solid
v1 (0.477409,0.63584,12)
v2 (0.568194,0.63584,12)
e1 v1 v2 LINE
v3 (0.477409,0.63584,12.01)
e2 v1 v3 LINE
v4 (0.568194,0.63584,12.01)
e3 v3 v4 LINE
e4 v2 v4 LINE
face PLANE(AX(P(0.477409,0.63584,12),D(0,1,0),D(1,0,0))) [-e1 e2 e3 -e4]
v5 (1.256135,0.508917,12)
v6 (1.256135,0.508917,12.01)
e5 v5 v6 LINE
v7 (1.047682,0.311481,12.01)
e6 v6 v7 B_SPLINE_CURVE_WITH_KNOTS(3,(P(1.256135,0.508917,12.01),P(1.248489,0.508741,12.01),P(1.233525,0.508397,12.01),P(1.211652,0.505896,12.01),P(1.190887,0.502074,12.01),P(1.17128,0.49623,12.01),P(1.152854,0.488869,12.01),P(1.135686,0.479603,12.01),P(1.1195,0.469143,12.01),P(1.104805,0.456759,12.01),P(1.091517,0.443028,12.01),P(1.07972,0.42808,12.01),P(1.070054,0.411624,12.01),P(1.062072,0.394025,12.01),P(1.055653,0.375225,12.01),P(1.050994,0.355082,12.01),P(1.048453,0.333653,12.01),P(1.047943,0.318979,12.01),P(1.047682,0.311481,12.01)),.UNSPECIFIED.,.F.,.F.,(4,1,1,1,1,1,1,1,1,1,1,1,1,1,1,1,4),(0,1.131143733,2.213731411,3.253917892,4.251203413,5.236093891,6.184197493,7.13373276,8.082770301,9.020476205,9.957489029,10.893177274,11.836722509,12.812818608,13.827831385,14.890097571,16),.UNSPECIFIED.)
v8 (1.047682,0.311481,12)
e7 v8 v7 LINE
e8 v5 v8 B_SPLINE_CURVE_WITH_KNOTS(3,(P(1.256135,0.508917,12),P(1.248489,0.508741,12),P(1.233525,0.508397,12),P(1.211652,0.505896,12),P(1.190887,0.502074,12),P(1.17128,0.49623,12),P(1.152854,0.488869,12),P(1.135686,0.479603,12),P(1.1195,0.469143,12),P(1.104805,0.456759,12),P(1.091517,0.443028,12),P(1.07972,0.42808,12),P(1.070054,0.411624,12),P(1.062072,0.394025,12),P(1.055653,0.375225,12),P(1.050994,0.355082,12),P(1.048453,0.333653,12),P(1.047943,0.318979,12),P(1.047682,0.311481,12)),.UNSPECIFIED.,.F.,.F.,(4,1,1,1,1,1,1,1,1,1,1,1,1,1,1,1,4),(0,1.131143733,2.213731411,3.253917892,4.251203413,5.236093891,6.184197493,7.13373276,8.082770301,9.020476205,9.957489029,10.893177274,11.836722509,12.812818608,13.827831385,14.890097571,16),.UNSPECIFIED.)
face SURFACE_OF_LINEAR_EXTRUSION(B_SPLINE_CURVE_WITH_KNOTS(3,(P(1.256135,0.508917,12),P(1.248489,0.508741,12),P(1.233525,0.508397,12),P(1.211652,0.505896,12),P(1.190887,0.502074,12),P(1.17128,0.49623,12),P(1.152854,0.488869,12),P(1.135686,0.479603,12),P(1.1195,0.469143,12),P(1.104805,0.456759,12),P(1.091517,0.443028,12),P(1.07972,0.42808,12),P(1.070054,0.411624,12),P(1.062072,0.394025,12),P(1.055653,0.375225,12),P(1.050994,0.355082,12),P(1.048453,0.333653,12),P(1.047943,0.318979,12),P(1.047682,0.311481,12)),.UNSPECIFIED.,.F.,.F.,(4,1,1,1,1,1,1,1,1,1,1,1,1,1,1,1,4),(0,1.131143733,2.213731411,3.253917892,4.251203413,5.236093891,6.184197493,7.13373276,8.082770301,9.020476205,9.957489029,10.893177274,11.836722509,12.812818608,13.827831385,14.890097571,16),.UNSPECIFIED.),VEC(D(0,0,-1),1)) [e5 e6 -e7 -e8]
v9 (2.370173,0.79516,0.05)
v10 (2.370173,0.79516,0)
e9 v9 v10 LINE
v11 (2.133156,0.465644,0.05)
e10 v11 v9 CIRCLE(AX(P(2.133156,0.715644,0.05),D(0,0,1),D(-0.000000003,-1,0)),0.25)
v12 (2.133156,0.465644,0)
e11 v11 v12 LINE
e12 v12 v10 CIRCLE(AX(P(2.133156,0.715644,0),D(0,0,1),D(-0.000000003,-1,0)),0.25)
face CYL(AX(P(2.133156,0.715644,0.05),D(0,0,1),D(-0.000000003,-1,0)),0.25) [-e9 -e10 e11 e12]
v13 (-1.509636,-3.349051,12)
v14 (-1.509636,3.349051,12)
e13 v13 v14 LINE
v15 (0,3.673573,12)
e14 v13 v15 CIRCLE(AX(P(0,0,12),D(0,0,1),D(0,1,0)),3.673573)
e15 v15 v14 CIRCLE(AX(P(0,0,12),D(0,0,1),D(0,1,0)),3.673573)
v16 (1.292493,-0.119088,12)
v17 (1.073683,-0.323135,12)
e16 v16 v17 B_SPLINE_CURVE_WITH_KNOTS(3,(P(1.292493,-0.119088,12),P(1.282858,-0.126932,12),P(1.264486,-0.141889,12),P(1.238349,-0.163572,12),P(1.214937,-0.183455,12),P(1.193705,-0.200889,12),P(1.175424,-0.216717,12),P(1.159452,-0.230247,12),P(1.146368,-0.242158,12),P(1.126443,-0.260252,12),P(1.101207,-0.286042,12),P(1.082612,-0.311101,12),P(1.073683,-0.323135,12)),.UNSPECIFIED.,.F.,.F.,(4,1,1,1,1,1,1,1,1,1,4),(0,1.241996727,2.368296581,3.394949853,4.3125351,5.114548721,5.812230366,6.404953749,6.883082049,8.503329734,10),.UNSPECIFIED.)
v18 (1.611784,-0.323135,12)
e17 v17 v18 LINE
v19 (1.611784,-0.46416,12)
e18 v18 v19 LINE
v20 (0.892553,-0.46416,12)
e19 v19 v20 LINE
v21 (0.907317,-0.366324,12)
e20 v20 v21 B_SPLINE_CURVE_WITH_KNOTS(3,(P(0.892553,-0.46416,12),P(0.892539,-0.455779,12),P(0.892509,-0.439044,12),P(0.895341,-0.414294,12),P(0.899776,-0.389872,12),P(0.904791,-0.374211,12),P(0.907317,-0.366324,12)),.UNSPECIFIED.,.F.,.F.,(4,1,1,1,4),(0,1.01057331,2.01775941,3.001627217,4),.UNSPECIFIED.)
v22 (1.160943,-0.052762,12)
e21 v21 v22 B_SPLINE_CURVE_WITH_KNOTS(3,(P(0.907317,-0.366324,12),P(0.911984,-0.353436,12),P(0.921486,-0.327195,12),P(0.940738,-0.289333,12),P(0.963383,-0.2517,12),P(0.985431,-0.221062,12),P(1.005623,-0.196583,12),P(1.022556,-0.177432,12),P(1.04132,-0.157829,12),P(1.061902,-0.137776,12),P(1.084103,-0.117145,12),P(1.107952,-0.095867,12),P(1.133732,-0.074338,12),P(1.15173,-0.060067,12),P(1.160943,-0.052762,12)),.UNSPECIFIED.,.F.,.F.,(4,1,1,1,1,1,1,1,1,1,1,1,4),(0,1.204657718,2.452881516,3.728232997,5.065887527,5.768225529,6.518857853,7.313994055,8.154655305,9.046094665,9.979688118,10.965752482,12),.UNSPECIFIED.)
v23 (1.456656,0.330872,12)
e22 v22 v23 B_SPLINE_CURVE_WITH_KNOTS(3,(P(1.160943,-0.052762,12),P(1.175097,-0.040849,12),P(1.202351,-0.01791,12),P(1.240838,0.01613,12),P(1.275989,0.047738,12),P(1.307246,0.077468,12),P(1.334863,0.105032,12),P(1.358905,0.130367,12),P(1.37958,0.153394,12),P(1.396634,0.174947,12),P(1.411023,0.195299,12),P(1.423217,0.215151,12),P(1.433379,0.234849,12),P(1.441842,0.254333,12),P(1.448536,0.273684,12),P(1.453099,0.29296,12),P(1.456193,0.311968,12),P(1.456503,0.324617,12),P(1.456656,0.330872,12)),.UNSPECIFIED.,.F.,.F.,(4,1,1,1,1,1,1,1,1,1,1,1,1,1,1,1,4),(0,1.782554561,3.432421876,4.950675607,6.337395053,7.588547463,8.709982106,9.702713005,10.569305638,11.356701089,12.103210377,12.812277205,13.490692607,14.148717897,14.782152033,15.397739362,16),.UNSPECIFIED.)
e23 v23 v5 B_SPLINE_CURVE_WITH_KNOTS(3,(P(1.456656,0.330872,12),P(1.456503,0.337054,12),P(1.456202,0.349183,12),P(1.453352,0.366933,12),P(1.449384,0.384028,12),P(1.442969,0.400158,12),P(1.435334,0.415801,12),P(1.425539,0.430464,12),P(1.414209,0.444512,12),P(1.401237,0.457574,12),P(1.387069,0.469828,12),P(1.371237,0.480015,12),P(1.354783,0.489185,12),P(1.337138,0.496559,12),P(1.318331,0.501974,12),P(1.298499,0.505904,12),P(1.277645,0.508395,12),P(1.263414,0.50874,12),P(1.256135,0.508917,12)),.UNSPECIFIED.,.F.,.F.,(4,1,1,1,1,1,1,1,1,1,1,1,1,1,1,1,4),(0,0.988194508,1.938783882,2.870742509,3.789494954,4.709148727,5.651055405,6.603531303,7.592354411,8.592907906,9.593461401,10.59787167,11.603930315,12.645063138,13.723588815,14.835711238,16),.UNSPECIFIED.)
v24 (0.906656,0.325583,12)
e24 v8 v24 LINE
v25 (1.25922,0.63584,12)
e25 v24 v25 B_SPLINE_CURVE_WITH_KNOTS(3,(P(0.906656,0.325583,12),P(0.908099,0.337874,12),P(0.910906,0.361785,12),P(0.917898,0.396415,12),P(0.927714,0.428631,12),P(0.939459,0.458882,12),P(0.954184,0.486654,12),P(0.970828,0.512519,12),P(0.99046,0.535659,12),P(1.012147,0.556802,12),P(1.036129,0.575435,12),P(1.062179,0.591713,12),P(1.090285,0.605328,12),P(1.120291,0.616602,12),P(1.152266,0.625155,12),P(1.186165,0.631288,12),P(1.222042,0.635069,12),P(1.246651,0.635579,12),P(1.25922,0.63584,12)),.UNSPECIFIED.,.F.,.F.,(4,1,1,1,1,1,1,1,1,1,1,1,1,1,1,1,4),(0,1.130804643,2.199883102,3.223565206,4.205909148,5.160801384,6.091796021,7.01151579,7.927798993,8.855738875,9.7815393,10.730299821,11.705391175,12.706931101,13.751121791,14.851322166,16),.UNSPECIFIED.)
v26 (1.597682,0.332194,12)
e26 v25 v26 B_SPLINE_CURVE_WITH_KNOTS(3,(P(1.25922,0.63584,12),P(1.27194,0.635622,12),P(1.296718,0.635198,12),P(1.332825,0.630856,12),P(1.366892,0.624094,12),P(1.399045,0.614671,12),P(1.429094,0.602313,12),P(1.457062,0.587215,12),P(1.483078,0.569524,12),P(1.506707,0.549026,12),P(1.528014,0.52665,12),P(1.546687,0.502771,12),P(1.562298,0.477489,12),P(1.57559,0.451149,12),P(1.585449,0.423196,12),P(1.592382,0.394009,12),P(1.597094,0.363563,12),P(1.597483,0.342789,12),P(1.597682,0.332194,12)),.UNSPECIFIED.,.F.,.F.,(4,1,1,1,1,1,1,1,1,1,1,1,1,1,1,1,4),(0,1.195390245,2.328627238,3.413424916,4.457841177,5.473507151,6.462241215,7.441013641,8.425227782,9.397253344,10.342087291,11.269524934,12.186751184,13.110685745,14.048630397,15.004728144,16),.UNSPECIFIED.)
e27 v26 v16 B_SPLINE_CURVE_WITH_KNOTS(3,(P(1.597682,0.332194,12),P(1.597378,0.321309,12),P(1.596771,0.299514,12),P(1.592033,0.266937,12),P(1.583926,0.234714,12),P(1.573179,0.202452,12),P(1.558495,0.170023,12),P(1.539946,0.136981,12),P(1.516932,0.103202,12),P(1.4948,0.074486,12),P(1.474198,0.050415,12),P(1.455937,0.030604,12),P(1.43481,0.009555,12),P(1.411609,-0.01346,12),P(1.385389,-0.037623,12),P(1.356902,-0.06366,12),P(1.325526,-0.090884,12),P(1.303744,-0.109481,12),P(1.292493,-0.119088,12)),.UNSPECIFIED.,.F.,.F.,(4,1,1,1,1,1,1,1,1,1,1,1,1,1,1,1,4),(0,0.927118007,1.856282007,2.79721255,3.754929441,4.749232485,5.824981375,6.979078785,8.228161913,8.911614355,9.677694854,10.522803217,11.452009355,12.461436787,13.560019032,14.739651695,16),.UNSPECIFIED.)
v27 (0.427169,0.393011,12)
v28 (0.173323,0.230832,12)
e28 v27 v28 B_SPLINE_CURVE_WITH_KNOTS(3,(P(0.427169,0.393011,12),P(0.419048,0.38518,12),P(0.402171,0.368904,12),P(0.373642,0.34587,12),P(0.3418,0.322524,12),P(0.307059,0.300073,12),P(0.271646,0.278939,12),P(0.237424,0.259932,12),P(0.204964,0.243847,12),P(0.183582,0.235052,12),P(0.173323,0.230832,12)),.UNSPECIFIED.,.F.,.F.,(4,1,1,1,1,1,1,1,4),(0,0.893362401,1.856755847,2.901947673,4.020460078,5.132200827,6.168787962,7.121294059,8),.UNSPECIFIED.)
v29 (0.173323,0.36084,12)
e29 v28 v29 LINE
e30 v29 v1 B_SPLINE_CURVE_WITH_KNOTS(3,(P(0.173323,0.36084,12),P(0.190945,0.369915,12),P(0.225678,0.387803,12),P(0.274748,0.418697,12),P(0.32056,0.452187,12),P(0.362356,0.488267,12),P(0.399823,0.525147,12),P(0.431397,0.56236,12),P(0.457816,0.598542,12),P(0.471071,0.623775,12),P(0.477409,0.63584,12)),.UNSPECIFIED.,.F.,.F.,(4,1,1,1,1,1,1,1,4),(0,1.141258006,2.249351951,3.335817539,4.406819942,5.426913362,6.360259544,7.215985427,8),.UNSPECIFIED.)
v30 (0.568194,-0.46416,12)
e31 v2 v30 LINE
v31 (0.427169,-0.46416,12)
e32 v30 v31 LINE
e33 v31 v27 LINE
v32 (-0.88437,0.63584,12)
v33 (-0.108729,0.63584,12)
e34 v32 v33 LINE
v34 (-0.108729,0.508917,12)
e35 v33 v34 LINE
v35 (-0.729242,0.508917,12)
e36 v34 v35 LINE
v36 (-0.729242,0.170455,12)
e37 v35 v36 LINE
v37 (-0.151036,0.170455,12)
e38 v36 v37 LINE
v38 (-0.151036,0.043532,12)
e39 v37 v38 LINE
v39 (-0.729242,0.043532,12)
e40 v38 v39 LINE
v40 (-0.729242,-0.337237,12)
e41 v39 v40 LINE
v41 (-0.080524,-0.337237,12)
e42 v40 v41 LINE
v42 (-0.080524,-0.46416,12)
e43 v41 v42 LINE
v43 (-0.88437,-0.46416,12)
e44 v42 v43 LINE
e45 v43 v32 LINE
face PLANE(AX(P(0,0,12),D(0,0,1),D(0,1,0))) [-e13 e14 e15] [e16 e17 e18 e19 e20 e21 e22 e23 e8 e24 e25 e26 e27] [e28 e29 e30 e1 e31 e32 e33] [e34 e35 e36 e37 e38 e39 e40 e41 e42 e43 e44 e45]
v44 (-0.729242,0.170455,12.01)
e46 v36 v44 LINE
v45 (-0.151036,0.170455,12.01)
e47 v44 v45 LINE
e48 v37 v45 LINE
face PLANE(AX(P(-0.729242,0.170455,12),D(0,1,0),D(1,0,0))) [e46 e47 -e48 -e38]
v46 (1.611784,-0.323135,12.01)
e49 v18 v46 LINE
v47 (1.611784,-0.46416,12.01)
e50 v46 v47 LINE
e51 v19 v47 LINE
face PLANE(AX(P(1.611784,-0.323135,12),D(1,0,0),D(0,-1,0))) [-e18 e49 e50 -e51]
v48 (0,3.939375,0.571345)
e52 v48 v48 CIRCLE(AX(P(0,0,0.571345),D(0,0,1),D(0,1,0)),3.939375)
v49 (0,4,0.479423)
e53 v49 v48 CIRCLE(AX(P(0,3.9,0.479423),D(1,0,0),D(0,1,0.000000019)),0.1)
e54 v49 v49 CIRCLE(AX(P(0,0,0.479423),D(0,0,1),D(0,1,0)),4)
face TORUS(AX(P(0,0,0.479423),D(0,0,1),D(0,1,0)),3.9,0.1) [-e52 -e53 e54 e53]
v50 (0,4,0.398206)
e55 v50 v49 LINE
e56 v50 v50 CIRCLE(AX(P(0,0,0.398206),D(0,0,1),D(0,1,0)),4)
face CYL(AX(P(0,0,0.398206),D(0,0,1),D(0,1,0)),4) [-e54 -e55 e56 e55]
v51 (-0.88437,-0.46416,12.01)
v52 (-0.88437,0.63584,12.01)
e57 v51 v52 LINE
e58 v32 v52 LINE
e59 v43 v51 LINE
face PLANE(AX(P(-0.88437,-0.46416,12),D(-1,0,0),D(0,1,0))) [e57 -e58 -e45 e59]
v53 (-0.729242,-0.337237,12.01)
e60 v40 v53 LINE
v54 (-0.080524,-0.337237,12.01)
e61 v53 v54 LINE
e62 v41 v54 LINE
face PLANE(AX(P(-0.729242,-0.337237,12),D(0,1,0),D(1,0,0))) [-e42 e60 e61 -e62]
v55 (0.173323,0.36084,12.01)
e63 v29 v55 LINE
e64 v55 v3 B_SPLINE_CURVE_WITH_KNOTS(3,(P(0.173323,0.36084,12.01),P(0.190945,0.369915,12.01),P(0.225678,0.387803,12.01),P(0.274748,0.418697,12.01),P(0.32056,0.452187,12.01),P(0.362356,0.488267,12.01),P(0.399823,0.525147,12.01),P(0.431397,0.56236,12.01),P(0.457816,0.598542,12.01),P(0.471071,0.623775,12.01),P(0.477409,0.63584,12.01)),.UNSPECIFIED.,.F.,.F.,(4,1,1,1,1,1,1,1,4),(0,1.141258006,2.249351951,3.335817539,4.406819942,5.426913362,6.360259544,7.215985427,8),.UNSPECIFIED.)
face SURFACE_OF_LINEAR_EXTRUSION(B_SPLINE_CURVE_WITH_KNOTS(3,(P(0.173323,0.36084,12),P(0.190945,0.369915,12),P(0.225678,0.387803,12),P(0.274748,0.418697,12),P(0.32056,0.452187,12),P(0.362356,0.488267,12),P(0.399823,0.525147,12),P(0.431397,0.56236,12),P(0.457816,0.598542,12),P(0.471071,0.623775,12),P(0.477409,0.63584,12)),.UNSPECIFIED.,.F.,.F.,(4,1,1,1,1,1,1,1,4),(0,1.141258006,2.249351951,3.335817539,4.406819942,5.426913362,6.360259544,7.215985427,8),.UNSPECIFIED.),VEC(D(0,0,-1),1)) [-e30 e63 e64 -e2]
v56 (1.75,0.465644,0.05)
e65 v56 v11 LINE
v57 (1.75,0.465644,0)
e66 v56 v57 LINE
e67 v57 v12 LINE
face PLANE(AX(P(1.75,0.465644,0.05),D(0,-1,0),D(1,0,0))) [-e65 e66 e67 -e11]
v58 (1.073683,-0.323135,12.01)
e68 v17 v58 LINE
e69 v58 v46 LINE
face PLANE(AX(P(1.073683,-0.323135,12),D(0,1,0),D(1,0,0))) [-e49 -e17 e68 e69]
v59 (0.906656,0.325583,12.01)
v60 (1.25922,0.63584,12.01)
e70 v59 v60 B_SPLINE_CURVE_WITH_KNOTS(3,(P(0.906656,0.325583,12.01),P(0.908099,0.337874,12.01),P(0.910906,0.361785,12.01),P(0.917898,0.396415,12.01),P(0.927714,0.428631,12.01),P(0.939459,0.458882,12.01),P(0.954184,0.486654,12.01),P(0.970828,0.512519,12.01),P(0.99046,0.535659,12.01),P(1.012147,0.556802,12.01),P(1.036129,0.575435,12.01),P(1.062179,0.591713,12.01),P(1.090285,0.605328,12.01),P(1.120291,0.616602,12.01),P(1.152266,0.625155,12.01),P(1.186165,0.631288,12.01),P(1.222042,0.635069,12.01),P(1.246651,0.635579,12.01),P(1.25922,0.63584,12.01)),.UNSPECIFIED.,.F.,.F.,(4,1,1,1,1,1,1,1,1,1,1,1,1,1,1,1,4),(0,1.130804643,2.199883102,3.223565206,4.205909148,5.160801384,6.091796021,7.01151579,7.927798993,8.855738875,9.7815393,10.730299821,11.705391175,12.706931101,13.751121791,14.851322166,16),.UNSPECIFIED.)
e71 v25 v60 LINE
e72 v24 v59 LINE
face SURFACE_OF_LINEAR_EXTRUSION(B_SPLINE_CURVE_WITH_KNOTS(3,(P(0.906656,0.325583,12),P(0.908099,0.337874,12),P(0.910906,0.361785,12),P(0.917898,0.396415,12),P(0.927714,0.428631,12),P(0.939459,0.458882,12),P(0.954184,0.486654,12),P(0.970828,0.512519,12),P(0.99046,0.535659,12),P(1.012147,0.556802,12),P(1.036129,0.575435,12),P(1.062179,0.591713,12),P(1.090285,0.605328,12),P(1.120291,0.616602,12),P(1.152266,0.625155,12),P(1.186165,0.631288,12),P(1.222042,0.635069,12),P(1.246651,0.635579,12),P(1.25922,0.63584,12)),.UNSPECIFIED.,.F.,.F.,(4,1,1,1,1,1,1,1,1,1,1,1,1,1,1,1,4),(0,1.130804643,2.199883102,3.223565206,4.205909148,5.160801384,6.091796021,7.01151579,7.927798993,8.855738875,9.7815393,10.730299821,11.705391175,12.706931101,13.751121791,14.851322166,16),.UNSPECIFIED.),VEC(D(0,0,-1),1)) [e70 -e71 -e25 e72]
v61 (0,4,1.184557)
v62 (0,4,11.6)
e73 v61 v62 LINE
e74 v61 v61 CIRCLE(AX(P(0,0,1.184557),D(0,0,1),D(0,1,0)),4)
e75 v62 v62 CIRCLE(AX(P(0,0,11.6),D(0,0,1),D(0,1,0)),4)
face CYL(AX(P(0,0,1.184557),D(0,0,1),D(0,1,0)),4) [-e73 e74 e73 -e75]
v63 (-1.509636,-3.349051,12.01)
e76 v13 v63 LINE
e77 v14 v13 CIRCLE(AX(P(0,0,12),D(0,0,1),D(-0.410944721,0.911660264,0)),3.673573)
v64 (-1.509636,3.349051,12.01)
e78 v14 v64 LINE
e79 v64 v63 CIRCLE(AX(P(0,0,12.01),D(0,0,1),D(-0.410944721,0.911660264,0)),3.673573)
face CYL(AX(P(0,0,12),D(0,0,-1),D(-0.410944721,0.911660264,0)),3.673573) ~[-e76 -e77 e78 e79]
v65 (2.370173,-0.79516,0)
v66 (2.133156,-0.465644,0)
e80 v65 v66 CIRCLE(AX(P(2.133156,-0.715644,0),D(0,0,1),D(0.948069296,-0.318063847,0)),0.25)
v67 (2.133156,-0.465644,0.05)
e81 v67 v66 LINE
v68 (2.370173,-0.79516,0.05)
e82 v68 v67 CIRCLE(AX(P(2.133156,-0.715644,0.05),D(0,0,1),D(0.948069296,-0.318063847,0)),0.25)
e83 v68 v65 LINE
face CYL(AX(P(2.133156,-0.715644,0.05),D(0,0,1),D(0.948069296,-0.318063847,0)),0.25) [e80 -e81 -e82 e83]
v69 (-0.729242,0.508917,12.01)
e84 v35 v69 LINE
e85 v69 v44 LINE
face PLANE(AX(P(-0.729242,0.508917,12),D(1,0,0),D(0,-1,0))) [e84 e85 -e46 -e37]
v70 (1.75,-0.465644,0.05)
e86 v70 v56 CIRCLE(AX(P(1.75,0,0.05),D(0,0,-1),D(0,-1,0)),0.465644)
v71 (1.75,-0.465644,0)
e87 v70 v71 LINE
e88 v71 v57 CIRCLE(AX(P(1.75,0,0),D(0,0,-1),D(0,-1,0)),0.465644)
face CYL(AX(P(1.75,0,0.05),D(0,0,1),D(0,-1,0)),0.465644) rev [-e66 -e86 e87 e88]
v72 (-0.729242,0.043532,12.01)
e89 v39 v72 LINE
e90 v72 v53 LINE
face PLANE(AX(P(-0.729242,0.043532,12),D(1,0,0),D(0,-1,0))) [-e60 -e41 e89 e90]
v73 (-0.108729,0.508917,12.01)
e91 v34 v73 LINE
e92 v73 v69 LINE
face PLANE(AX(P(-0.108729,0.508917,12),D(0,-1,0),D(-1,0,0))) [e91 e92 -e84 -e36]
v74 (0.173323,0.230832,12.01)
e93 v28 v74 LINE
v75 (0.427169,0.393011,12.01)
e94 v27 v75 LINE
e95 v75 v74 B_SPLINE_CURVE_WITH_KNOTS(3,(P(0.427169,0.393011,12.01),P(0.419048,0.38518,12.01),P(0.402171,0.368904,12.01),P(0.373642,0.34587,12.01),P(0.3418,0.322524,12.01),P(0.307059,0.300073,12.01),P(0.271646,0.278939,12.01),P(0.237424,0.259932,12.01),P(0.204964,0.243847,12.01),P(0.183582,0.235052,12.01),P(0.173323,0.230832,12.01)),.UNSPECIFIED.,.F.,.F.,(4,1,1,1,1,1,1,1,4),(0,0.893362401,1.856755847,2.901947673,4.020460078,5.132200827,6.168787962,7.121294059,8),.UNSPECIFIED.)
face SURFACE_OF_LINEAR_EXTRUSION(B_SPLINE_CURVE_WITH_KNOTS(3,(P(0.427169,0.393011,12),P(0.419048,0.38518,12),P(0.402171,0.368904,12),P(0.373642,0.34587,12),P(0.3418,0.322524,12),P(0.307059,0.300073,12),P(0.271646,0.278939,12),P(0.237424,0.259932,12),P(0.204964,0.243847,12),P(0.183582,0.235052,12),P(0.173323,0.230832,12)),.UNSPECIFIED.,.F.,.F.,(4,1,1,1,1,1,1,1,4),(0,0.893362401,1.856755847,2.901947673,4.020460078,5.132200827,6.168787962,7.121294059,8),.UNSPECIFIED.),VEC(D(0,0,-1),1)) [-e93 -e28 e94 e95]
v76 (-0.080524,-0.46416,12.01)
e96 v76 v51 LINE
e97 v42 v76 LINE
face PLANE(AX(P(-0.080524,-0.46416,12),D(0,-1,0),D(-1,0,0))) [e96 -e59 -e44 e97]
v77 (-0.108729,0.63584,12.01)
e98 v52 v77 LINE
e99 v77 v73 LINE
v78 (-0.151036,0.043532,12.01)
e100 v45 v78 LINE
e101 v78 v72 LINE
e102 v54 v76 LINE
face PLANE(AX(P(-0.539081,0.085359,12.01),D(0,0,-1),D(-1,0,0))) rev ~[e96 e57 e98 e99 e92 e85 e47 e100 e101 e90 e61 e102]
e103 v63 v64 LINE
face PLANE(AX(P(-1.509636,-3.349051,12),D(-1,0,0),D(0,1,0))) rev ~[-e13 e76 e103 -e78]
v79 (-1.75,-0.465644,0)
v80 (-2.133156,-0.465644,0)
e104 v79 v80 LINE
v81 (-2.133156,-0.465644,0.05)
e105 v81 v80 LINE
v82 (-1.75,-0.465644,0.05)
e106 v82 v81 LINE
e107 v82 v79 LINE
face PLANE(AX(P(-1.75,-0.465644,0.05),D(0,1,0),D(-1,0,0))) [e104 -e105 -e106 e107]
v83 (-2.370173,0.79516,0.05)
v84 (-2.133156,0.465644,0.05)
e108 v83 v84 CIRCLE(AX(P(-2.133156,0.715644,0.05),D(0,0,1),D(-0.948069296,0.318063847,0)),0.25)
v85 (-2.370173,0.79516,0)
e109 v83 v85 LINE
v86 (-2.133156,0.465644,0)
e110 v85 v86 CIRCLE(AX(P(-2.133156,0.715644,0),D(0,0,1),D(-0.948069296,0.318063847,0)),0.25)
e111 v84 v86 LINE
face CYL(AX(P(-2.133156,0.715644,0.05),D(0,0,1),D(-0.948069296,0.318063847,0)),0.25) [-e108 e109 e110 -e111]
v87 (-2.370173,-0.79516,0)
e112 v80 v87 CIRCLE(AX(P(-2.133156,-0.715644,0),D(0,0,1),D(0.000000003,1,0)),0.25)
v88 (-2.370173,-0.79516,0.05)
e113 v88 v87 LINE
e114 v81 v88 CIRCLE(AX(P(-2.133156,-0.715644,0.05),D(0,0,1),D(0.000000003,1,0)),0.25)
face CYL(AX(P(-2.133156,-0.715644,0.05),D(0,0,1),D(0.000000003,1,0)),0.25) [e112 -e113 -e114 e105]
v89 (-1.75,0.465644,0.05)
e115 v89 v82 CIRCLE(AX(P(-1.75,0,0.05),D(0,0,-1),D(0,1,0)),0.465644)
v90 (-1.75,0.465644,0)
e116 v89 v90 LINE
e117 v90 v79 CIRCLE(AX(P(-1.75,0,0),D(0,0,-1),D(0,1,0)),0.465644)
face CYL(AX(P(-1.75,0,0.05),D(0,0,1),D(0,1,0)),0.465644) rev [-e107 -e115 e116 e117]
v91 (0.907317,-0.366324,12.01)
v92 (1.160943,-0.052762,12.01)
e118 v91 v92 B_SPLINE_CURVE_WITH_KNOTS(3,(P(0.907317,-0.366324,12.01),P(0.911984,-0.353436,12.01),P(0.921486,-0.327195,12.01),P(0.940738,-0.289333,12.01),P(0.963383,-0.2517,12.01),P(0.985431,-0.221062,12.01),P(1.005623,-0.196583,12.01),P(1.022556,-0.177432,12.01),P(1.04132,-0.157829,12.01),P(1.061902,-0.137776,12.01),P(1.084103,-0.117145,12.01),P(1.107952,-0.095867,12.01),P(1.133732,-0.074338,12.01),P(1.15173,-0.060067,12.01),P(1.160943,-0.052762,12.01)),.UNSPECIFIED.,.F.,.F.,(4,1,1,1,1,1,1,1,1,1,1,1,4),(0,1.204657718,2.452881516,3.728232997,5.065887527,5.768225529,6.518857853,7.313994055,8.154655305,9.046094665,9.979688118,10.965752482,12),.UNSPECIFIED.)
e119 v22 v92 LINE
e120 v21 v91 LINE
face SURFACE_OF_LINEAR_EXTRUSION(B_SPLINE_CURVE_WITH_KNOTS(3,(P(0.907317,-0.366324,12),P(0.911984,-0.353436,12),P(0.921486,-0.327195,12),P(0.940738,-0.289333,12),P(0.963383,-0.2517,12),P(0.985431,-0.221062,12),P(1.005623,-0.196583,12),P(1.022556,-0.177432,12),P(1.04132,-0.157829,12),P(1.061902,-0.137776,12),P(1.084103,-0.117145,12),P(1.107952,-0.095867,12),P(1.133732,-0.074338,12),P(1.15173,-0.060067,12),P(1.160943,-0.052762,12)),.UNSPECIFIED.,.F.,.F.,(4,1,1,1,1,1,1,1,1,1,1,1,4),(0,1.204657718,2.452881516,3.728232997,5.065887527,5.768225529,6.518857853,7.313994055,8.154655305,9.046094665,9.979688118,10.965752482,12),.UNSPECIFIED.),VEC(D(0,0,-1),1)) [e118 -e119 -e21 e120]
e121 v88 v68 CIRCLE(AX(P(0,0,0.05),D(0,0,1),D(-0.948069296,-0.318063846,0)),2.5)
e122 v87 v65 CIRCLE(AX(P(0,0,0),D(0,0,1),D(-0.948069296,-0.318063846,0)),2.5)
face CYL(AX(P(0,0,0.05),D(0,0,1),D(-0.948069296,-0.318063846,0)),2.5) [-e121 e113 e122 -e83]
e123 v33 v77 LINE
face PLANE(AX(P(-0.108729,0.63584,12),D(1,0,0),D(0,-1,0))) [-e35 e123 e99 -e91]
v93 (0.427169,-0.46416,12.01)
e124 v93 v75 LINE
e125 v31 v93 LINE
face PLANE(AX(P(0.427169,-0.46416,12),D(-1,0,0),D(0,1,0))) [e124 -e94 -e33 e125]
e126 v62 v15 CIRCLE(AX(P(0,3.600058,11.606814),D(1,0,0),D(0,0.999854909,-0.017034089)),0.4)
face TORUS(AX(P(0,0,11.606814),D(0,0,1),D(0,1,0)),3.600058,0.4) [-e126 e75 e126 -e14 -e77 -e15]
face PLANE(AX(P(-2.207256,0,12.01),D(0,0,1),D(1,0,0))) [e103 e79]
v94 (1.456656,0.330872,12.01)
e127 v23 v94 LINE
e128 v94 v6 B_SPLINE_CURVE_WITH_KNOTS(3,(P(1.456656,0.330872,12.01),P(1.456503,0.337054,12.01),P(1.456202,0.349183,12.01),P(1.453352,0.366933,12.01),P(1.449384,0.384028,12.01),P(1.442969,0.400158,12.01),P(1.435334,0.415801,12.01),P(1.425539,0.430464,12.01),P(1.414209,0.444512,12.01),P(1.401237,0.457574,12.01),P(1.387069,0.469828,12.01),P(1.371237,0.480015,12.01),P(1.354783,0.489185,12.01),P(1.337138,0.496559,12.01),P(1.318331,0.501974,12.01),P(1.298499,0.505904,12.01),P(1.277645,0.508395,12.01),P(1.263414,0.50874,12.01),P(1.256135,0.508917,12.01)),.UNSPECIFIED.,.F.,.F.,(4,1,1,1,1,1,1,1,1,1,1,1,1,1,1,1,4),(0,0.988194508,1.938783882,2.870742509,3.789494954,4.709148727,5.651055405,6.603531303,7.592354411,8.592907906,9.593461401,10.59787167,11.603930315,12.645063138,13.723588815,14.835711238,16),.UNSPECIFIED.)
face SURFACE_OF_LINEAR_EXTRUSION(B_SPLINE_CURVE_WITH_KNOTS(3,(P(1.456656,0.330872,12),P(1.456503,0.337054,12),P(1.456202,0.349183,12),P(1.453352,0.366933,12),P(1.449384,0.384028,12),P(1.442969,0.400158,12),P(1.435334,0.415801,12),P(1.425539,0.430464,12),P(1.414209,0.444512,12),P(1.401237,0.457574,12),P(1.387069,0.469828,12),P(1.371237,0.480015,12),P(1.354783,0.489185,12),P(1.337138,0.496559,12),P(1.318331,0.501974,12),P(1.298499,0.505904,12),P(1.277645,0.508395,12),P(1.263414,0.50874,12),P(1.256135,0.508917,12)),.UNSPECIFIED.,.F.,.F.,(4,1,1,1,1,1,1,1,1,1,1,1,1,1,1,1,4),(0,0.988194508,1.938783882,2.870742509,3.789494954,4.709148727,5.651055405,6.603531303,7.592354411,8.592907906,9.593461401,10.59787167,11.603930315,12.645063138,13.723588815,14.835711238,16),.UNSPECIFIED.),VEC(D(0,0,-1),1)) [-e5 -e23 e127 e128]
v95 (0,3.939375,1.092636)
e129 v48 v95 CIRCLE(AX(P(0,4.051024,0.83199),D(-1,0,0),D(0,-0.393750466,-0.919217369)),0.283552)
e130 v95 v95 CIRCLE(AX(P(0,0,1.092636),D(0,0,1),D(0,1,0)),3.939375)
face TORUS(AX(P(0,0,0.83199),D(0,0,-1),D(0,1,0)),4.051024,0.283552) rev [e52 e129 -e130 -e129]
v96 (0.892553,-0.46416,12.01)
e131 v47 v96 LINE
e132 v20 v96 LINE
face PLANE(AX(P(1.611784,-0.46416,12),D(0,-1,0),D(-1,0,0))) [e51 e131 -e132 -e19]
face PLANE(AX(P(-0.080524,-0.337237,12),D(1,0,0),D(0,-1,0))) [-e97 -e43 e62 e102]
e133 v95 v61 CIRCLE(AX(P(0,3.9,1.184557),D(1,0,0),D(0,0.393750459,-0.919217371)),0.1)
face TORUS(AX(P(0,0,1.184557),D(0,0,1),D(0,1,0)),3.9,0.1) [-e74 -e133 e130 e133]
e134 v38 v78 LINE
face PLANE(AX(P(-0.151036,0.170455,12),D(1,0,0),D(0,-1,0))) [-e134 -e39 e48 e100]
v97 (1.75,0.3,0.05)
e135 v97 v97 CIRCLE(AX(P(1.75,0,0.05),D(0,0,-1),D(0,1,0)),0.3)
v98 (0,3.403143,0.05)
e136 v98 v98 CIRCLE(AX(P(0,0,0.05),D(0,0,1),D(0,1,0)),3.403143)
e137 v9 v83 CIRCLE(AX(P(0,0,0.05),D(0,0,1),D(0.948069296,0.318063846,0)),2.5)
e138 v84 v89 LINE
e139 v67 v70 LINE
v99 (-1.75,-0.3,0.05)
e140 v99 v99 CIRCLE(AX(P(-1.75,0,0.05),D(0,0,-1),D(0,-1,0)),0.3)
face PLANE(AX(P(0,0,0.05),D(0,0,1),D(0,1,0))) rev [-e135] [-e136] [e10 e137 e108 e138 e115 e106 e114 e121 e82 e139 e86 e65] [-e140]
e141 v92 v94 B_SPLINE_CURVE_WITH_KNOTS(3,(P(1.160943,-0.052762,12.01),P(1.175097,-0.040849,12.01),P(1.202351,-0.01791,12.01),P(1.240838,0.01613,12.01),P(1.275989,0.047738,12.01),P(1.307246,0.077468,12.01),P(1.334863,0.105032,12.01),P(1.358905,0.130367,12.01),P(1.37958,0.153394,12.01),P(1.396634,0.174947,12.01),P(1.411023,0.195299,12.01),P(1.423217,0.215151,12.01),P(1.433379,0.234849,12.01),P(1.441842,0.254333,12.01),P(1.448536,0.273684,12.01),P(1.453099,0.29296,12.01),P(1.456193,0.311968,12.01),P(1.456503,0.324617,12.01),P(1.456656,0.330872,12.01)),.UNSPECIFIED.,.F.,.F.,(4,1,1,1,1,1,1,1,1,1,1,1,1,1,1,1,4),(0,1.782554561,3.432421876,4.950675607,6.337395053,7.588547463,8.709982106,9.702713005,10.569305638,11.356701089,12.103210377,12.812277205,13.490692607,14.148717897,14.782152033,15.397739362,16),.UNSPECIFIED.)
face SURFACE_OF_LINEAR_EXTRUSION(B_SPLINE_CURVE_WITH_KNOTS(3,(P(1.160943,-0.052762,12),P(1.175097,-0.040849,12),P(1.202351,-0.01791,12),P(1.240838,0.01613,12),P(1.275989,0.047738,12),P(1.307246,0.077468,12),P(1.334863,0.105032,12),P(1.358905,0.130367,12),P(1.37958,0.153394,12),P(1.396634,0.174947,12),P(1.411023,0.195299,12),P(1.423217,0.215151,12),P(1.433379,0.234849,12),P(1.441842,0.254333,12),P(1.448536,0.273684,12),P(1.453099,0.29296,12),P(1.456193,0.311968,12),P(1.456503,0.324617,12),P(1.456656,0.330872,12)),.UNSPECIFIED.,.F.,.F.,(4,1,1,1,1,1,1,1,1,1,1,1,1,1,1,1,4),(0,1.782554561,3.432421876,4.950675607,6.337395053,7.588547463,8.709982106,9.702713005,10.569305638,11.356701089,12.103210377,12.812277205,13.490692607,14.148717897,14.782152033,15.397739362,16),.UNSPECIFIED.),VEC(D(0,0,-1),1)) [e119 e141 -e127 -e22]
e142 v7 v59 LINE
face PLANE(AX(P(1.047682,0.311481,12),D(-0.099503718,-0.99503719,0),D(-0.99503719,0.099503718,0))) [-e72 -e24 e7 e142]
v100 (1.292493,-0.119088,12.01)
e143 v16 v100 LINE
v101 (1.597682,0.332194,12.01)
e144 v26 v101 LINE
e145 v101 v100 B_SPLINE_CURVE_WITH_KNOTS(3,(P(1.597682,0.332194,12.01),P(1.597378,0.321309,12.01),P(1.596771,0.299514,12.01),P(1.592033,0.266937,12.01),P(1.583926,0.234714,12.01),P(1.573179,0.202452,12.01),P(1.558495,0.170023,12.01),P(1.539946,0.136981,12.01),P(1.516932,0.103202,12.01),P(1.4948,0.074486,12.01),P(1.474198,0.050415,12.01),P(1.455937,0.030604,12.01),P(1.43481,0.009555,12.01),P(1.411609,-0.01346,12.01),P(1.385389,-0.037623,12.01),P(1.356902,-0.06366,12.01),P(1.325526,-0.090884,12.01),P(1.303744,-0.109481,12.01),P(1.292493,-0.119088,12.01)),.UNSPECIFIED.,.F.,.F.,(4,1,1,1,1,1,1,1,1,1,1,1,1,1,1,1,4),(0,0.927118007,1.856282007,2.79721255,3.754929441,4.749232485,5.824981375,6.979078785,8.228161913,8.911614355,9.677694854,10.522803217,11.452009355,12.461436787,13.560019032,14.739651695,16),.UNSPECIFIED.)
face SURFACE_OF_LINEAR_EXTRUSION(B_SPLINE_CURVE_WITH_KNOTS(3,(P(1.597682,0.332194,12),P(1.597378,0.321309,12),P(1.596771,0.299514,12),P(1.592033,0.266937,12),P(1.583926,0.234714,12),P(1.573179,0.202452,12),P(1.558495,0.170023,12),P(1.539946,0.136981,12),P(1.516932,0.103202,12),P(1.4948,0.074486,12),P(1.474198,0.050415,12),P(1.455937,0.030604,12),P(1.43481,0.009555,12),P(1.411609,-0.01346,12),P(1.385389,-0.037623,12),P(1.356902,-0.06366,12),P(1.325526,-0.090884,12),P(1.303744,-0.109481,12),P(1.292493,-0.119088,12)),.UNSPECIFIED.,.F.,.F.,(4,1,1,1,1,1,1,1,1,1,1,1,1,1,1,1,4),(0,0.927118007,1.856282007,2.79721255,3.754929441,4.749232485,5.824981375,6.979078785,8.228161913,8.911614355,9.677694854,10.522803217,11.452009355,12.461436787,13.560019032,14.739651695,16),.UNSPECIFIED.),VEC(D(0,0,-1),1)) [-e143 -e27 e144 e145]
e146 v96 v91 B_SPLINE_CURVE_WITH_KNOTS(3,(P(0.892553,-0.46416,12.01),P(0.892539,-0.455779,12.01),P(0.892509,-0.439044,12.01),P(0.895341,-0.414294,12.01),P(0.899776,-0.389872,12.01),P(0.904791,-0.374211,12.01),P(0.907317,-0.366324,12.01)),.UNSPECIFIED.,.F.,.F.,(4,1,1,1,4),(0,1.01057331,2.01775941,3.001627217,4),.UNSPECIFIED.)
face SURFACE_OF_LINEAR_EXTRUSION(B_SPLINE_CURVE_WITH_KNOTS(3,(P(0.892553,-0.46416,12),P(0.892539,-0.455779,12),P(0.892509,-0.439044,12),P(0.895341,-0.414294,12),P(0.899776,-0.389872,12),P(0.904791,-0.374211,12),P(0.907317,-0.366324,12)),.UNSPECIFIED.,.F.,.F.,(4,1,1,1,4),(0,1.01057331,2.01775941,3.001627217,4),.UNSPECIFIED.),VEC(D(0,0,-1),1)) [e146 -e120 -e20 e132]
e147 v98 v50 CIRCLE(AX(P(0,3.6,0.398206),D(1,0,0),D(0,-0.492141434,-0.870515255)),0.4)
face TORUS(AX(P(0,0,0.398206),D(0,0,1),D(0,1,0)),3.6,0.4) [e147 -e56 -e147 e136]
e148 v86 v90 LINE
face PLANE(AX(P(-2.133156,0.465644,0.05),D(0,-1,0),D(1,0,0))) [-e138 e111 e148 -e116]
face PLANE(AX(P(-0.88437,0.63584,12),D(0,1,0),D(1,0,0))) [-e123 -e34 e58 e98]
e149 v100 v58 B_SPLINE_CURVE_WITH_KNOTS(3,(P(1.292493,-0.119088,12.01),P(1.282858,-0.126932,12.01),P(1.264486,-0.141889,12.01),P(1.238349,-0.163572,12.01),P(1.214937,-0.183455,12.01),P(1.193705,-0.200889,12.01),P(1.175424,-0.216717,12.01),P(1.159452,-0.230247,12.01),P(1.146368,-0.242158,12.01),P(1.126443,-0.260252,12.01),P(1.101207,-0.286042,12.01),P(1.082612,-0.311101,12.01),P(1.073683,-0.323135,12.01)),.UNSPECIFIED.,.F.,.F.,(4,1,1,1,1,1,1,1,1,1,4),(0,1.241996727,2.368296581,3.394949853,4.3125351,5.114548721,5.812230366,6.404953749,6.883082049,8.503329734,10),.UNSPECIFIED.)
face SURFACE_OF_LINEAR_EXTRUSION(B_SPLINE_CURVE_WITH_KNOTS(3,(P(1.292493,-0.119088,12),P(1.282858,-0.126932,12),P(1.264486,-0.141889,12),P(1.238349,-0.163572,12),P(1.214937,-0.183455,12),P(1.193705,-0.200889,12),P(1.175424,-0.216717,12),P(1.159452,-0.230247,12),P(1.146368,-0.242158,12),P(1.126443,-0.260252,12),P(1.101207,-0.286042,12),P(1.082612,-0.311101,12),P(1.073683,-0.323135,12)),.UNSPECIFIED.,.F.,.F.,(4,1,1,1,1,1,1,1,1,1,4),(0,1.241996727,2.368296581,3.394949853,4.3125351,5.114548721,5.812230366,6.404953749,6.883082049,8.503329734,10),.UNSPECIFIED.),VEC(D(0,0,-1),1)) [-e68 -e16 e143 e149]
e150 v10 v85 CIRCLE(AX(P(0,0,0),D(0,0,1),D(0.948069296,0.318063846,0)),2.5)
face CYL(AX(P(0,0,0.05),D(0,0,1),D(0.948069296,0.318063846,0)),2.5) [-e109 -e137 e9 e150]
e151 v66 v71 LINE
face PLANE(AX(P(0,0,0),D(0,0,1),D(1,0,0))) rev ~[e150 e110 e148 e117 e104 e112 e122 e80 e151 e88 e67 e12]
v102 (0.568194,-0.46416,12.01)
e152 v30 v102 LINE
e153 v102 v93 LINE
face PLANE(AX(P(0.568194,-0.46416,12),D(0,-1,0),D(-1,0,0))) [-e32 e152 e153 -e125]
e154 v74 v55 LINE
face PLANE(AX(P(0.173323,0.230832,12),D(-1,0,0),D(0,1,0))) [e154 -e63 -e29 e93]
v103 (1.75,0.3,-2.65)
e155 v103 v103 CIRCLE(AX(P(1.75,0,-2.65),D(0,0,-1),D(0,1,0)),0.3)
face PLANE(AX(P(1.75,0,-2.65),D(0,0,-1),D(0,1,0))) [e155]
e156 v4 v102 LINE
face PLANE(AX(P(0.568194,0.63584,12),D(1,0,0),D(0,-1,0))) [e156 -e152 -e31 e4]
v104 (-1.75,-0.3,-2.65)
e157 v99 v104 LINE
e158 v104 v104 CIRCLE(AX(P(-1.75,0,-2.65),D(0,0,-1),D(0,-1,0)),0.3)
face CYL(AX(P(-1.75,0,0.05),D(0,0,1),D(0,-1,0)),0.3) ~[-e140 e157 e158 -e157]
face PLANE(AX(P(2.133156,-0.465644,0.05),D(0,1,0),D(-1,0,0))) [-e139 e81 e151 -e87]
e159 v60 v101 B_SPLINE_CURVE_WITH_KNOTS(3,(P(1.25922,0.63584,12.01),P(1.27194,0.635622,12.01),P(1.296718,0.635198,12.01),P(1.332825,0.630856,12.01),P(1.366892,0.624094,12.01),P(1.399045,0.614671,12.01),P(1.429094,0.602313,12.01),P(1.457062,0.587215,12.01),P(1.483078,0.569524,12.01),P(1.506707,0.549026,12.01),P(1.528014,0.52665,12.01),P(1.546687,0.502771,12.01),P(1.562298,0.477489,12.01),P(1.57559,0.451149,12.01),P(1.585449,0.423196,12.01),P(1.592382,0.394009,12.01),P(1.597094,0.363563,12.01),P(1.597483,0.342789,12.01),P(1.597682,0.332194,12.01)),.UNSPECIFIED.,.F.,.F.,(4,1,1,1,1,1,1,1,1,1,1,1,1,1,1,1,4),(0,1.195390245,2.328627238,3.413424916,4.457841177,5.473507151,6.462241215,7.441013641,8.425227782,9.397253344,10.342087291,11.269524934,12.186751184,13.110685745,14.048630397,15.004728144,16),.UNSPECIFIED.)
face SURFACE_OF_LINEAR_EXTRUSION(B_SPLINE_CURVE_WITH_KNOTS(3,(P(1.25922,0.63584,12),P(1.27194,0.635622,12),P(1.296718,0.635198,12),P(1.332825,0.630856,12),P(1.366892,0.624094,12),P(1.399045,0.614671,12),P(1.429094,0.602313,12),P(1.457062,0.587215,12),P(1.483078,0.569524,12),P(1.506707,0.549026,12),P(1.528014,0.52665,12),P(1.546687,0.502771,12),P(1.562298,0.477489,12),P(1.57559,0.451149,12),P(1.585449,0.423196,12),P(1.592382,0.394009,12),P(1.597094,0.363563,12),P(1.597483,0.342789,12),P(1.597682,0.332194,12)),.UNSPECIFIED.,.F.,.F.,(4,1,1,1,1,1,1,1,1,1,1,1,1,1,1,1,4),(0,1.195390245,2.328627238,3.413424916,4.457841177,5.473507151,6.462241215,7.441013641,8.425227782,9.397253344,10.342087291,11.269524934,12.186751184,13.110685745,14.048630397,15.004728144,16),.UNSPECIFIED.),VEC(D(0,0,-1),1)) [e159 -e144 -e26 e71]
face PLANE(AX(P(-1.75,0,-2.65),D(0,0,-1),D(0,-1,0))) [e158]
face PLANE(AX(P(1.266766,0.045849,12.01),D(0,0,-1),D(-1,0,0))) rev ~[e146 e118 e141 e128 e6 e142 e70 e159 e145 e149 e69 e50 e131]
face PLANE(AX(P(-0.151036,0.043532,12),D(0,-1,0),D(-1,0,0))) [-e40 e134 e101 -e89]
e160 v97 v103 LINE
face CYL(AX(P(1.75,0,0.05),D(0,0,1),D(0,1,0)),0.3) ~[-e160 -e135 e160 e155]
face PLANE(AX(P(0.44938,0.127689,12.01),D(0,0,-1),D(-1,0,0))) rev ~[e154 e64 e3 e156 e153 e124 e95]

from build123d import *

# Parameters (mm, degrees)
SKETCH_2_R         = 0.3
EXTRUDE_1_DEPTH    = 2.7
EXTRUDE_2_DEPTH    = 0.01
EXTRUDE_1782_DEPTH = 0.01
EXTRUDE_5_DEPTH    = 0.05


with BuildPart() as part:
    # Sketch10 → Повернуть1 (revolve)
    with BuildSketch(Plane(origin=(0, 0, 0), x_dir=(0, 0, -1), z_dir=(1, 0, 0))):
        with BuildLine():
            Line((-12, 0), (-0.05, 0))
            Line((-0.05, 0), (-0.05, 3.403143426))
            ThreePointArc((-0.05, 3.403143426), (-0.052704561, 3.801565585), (-0.398206102, 4))
            Line((-0.398206102, 4), (-0.479422929, 4))
            ThreePointArc((-0.479422929, 4), (-0.534479696, 3.983479053), (-0.571344666, 3.939375046))
            ThreePointArc((-0.571344666, 3.939375046), (-0.831990181, 3.767472047), (-1.092635697, 3.939375046))
            ThreePointArc((-1.092635697, 3.939375046), (-1.129500666, 3.983479053), (-1.184557434, 4))
            Line((-1.184557434, 4), (-11.6, 4))
            ThreePointArc((-11.6, 4), (-11.85971595, 3.909961924), (-12, 3.67357323))
            Line((-12, 3.67357323), (-12, 0))
        make_face()
    revolve(axis=Axis((0, 0, -18.1630778), (0, 0, 1)))

    # Эскиз2 → Бобышка-Вытянуть1 (add)
    with BuildSketch(Plane(origin=(0, 0, 0.05), x_dir=(-1, 0, 0), z_dir=(0, 0, -1))):
        with Locations(Location((-1.75, 0, 0), (0, 0, 90))):
            Circle(SKETCH_2_R)
        with Locations(Location((1.75, 0, 0), (0, 0, 270))):
            Circle(SKETCH_2_R)
    extrude(amount=EXTRUDE_1_DEPTH)

    # Эскиз4 → Бобышка-Вытянуть2 (add)
    with BuildSketch(Plane.XY.offset(12)):
        with BuildLine():
            Line((-1.509635526, -3.349050739), (-1.509635526, 3.349050739))
            ThreePointArc((-1.509635526, 3.349050739), (-3.67357323, 0), (-1.509635526, -3.349050739))
        make_face()
    extrude(amount=EXTRUDE_2_DEPTH)

    # Эскиз5 → Extrude 1782 (add)
    with BuildSketch(Plane.XY.offset(12)):
        Polygon((-0.884369756, -0.464160183), (-0.884369756, 0.635839817), (-0.108728731, 0.635839817), (-0.108728731, 0.50891674), (-0.729241551, 0.50891674), (-0.729241551, 0.170455202), (-0.151036423, 0.170455202), (-0.151036423, 0.043532125), (-0.729241551, 0.043532125), (-0.729241551, -0.337237106), (-0.080523602, -0.337237106), (-0.080523602, -0.464160183), align=None)
        with BuildLine():
            Line((0.568194346, -0.464160183), (0.427168705, -0.464160183))
            Line((0.427168705, -0.464160183), (0.427168705, 0.393011291))
            add(Edge.make_bspline(
                [(0.427168705, 0.393011291), (0.419048436, 0.385180291), (0.402171347, 0.368904415), (0.373642411, 0.345869987), (0.341800473, 0.322523617), (0.30705902, 0.300073472), (0.271645985, 0.278939082), (0.237423847, 0.259931947), (0.204963957, 0.2438473), (0.183582453, 0.235052151), (0.173322551, 0.230831804)],
                knots=[0, 0, 0, 0, 0.893362401, 1.856755847, 2.901947673, 4.020460078, 5.132200827, 6.168787962, 7.121294059, 8, 8, 8, 8], degree=3))
            Line((0.173322551, 0.230831804), (0.173322551, 0.360839817))
            add(Edge.make_bspline(
                [(0.173322551, 0.360839817), (0.190944992, 0.369915409), (0.22567778, 0.387802865), (0.274747698, 0.418696959), (0.320559746, 0.452187428), (0.362355551, 0.488266859), (0.399822828, 0.525146514), (0.431397045, 0.562359534), (0.457816342, 0.598541851), (0.471071403, 0.623775005), (0.47740909, 0.635839817)],
                knots=[0, 0, 0, 0, 1.141258006, 2.249351951, 3.335817539, 4.406819942, 5.426913362, 6.360259544, 7.215985427, 8, 8, 8, 8], degree=3))
            Line((0.47740909, 0.635839817), (0.568194346, 0.635839817))
            Line((0.568194346, 0.635839817), (0.568194346, -0.464160183))
        make_face()
        with BuildLine():
            Line((1.61178409, -0.323134542), (1.61178409, -0.464160183))
            Line((1.61178409, -0.464160183), (0.892553321, -0.464160183))
            add(Edge.make_bspline(
                [(0.892553321, -0.464160183), (0.892538596, -0.455778633), (0.892509196, -0.439043625), (0.895341029, -0.41429361), (0.899776246, -0.389871925), (0.904791145, -0.37421127), (0.907316942, -0.366323644)],
                knots=[0, 0, 0, 0, 1.01057331, 2.01775941, 3.001627217, 4, 4, 4, 4], degree=3))
            add(Edge.make_bspline(
                [(0.907316942, -0.366323644), (0.911983776, -0.353436205), (0.921486217, -0.327195256), (0.940738263, -0.28933323), (0.963383218, -0.251700187), (0.98543127, -0.221061576), (1.005622524, -0.196583469), (1.022555522, -0.177432182), (1.041320388, -0.157828584), (1.061902095, -0.137776254), (1.084102555, -0.117145322), (1.107952062, -0.095866985), (1.133732239, -0.074337788), (1.151729501, -0.06006734), (1.160942744, -0.052761946)],
                knots=[0, 0, 0, 0, 1.204657718, 2.452881516, 3.728232997, 5.065887527, 5.768225529, 6.518857853, 7.313994055, 8.154655305, 9.046094665, 9.979688118, 10.965752482, 12, 12, 12, 12], degree=3))
            add(Edge.make_bspline(
                [(1.160942744, -0.052761946), (1.17509656, -0.040848908), (1.202350632, -0.017909599), (1.240837651, 0.01613021), (1.275989279, 0.047738101), (1.307245765, 0.077468067), (1.334862755, 0.105031746), (1.358905093, 0.130366688), (1.379579648, 0.15339383), (1.396634024, 0.174946656), (1.411023324, 0.195298518), (1.423216985, 0.215150503), (1.433378783, 0.234849381), (1.441842202, 0.254332819), (1.448536046, 0.273684139), (1.453098854, 0.292959718), (1.456193192, 0.311968296), (1.456502783, 0.324616814), (1.456655885, 0.330871868)],
                knots=[0, 0, 0, 0, 1.782554561, 3.432421876, 4.950675607, 6.337395053, 7.588547463, 8.709982106, 9.702713005, 10.569305638, 11.356701089, 12.103210377, 12.812277205, 13.490692607, 14.148717897, 14.782152033, 15.397739362, 16, 16, 16, 16], degree=3))
            add(Edge.make_bspline(
                [(1.456655885, 0.330871868), (1.456502765, 0.33705394), (1.456202352, 0.349182828), (1.453352046, 0.366933381), (1.449384192, 0.384027587), (1.44296938, 0.400157713), (1.435333823, 0.415801436), (1.425539378, 0.430464433), (1.414209218, 0.444512145), (1.401237145, 0.457574198), (1.387068602, 0.469828489), (1.371237275, 0.480014782), (1.354782961, 0.489185481), (1.337137999, 0.496559249), (1.318331062, 0.501973938), (1.298499055, 0.505903608), (1.277645126, 0.508395229), (1.263413785, 0.508740267), (1.256135051, 0.50891674)],
                knots=[0, 0, 0, 0, 0.988194508, 1.938783882, 2.870742509, 3.789494954, 4.709148727, 5.651055405, 6.603531303, 7.592354411, 8.592907906, 9.593461401, 10.59787167, 11.603930315, 12.645063138, 13.723588815, 14.835711238, 16, 16, 16, 16], degree=3))
            add(Edge.make_bspline(
                [(1.256135051, 0.50891674), (1.248488944, 0.508741141), (1.233524951, 0.508397482), (1.2116516, 0.505895924), (1.190886644, 0.502073881), (1.171279647, 0.496230304), (1.152854473, 0.488868832), (1.135686163, 0.4796027), (1.119499781, 0.469142913), (1.104805099, 0.456759313), (1.09151689, 0.443028428), (1.079720055, 0.428079647), (1.070054321, 0.411624491), (1.062071959, 0.39402477), (1.055653472, 0.37522516), (1.050993868, 0.355081939), (1.048453421, 0.333653269), (1.047942559, 0.318978922), (1.047681526, 0.311480843)],
                knots=[0, 0, 0, 0, 1.131143733, 2.213731411, 3.253917892, 4.251203413, 5.236093891, 6.184197493, 7.13373276, 8.082770301, 9.020476205, 9.957489029, 10.893177274, 11.836722509, 12.812818608, 13.827831385, 14.890097571, 16, 16, 16, 16], degree=3))
            Line((1.047681526, 0.311480843), (0.906655885, 0.325583407))
            add(Edge.make_bspline(
                [(0.906655885, 0.325583407), (0.908098777, 0.337874136), (0.910905801, 0.361784692), (0.917897713, 0.396415104), (0.927713726, 0.428631315), (0.939459413, 0.458882485), (0.954183739, 0.486653648), (0.970828321, 0.51251922), (0.990459839, 0.535658854), (1.012147457, 0.556801943), (1.036128788, 0.575434568), (1.062178564, 0.591712753), (1.090284868, 0.605328449), (1.12029116, 0.616601678), (1.152266325, 0.625154961), (1.18616513, 0.631288472), (1.222042089, 0.635069238), (1.246650532, 0.635579292), (1.259219987, 0.635839817)],
                knots=[0, 0, 0, 0, 1.130804643, 2.199883102, 3.223565206, 4.205909148, 5.160801384, 6.091796021, 7.01151579, 7.927798993, 8.855738875, 9.7815393, 10.730299821, 11.705391175, 12.706931101, 13.751121791, 14.851322166, 16, 16, 16, 16], degree=3))
            add(Edge.make_bspline(
                [(1.259219987, 0.635839817), (1.271939892, 0.635622003), (1.29671834, 0.6351977), (1.332824523, 0.63085623), (1.366891704, 0.624094431), (1.399044773, 0.614670552), (1.429093765, 0.602313037), (1.457061794, 0.587214944), (1.483077817, 0.56952355), (1.506707157, 0.549026482), (1.528014351, 0.526650499), (1.546686965, 0.502770502), (1.562298168, 0.477488506), (1.575590139, 0.451149122), (1.585449285, 0.423195817), (1.592382417, 0.39400862), (1.597093682, 0.363562591), (1.597482973, 0.342789196), (1.597681526, 0.332193984)],
                knots=[0, 0, 0, 0, 1.195390245, 2.328627238, 3.413424916, 4.457841177, 5.473507151, 6.462241215, 7.441013641, 8.425227782, 9.397253344, 10.342087291, 11.269524934, 12.186751184, 13.110685745, 14.048630397, 15.004728144, 16, 16, 16, 16], degree=3))
            add(Edge.make_bspline(
                [(1.597681526, 0.332193984), (1.597378339, 0.321308604), (1.596771295, 0.299513821), (1.592033242, 0.266937048), (1.58392638, 0.234713806), (1.573178844, 0.202451918), (1.558495473, 0.170023339), (1.539945527, 0.136980714), (1.516932293, 0.103201988), (1.494800013, 0.074486318), (1.474198453, 0.050415346), (1.455937117, 0.030603529), (1.434809808, 0.009554798), (1.411609091, -0.013459812), (1.385388728, -0.037623466), (1.356902093, -0.063659758), (1.325525598, -0.090883511), (1.303744195, -0.109481472), (1.292493225, -0.119088068)],
                knots=[0, 0, 0, 0, 0.927118007, 1.856282007, 2.79721255, 3.754929441, 4.749232485, 5.824981375, 6.979078785, 8.228161913, 8.911614355, 9.677694854, 10.522803217, 11.452009355, 12.461436787, 13.560019032, 14.739651695, 16, 16, 16, 16], degree=3))
            add(Edge.make_bspline(
                [(1.292493225, -0.119088068), (1.282858468, -0.126931787), (1.26448647, -0.141888552), (1.238348743, -0.163571774), (1.21493729, -0.183454702), (1.193704637, -0.200888792), (1.175424065, -0.216717308), (1.159451664, -0.230247031), (1.146367722, -0.24215823), (1.126443194, -0.260251582), (1.101207079, -0.286041826), (1.082612031, -0.311101486), (1.073683128, -0.323134542)],
                knots=[0, 0, 0, 0, 1.241996727, 2.368296581, 3.394949853, 4.3125351, 5.114548721, 5.812230366, 6.404953749, 6.883082049, 8.503329734, 10, 10, 10, 10], degree=3))
            Line((1.073683128, -0.323134542), (1.61178409, -0.323134542))
        make_face()
    extrude(amount=EXTRUDE_1782_DEPTH)

    # Эскиз6 → Бобышка-Вытянуть5 (add)
    with BuildSketch(Plane(origin=(0, 0, 0.05), x_dir=(-1, 0, 0), z_dir=(0, 0, -1))):
        with BuildLine():
            Line((-1.75, 0.465643654), (-2.133155916, 0.465643654))
            ThreePointArc((-2.133155916, 0.465643654), (-2.336107869, 0.569662474), (-2.37017324, 0.795159615))
            ThreePointArc((-2.37017324, 0.795159615), (0, 2.5), (2.37017324, 0.795159615))
            ThreePointArc((2.37017324, 0.795159615), (2.336107869, 0.569662474), (2.133155916, 0.465643654))
            Line((2.133155916, 0.465643654), (1.75, 0.465643654))
            ThreePointArc((1.75, 0.465643654), (1.284356346, 0), (1.75, -0.465643654))
            Line((1.75, -0.465643654), (2.133155916, -0.465643654))
            ThreePointArc((2.133155916, -0.465643654), (2.336107869, -0.569662474), (2.37017324, -0.795159615))
            ThreePointArc((2.37017324, -0.795159615), (0, -2.5), (-2.37017324, -0.795159615))
            ThreePointArc((-2.37017324, -0.795159615), (-2.336107869, -0.569662474), (-2.133155916, -0.465643654))
            Line((-2.133155916, -0.465643654), (-1.75, -0.465643654))
            ThreePointArc((-1.75, -0.465643654), (-1.284356346, 0), (-1.75, 0.465643654))
        make_face()
    extrude(amount=EXTRUDE_5_DEPTH)


solid = part.part
